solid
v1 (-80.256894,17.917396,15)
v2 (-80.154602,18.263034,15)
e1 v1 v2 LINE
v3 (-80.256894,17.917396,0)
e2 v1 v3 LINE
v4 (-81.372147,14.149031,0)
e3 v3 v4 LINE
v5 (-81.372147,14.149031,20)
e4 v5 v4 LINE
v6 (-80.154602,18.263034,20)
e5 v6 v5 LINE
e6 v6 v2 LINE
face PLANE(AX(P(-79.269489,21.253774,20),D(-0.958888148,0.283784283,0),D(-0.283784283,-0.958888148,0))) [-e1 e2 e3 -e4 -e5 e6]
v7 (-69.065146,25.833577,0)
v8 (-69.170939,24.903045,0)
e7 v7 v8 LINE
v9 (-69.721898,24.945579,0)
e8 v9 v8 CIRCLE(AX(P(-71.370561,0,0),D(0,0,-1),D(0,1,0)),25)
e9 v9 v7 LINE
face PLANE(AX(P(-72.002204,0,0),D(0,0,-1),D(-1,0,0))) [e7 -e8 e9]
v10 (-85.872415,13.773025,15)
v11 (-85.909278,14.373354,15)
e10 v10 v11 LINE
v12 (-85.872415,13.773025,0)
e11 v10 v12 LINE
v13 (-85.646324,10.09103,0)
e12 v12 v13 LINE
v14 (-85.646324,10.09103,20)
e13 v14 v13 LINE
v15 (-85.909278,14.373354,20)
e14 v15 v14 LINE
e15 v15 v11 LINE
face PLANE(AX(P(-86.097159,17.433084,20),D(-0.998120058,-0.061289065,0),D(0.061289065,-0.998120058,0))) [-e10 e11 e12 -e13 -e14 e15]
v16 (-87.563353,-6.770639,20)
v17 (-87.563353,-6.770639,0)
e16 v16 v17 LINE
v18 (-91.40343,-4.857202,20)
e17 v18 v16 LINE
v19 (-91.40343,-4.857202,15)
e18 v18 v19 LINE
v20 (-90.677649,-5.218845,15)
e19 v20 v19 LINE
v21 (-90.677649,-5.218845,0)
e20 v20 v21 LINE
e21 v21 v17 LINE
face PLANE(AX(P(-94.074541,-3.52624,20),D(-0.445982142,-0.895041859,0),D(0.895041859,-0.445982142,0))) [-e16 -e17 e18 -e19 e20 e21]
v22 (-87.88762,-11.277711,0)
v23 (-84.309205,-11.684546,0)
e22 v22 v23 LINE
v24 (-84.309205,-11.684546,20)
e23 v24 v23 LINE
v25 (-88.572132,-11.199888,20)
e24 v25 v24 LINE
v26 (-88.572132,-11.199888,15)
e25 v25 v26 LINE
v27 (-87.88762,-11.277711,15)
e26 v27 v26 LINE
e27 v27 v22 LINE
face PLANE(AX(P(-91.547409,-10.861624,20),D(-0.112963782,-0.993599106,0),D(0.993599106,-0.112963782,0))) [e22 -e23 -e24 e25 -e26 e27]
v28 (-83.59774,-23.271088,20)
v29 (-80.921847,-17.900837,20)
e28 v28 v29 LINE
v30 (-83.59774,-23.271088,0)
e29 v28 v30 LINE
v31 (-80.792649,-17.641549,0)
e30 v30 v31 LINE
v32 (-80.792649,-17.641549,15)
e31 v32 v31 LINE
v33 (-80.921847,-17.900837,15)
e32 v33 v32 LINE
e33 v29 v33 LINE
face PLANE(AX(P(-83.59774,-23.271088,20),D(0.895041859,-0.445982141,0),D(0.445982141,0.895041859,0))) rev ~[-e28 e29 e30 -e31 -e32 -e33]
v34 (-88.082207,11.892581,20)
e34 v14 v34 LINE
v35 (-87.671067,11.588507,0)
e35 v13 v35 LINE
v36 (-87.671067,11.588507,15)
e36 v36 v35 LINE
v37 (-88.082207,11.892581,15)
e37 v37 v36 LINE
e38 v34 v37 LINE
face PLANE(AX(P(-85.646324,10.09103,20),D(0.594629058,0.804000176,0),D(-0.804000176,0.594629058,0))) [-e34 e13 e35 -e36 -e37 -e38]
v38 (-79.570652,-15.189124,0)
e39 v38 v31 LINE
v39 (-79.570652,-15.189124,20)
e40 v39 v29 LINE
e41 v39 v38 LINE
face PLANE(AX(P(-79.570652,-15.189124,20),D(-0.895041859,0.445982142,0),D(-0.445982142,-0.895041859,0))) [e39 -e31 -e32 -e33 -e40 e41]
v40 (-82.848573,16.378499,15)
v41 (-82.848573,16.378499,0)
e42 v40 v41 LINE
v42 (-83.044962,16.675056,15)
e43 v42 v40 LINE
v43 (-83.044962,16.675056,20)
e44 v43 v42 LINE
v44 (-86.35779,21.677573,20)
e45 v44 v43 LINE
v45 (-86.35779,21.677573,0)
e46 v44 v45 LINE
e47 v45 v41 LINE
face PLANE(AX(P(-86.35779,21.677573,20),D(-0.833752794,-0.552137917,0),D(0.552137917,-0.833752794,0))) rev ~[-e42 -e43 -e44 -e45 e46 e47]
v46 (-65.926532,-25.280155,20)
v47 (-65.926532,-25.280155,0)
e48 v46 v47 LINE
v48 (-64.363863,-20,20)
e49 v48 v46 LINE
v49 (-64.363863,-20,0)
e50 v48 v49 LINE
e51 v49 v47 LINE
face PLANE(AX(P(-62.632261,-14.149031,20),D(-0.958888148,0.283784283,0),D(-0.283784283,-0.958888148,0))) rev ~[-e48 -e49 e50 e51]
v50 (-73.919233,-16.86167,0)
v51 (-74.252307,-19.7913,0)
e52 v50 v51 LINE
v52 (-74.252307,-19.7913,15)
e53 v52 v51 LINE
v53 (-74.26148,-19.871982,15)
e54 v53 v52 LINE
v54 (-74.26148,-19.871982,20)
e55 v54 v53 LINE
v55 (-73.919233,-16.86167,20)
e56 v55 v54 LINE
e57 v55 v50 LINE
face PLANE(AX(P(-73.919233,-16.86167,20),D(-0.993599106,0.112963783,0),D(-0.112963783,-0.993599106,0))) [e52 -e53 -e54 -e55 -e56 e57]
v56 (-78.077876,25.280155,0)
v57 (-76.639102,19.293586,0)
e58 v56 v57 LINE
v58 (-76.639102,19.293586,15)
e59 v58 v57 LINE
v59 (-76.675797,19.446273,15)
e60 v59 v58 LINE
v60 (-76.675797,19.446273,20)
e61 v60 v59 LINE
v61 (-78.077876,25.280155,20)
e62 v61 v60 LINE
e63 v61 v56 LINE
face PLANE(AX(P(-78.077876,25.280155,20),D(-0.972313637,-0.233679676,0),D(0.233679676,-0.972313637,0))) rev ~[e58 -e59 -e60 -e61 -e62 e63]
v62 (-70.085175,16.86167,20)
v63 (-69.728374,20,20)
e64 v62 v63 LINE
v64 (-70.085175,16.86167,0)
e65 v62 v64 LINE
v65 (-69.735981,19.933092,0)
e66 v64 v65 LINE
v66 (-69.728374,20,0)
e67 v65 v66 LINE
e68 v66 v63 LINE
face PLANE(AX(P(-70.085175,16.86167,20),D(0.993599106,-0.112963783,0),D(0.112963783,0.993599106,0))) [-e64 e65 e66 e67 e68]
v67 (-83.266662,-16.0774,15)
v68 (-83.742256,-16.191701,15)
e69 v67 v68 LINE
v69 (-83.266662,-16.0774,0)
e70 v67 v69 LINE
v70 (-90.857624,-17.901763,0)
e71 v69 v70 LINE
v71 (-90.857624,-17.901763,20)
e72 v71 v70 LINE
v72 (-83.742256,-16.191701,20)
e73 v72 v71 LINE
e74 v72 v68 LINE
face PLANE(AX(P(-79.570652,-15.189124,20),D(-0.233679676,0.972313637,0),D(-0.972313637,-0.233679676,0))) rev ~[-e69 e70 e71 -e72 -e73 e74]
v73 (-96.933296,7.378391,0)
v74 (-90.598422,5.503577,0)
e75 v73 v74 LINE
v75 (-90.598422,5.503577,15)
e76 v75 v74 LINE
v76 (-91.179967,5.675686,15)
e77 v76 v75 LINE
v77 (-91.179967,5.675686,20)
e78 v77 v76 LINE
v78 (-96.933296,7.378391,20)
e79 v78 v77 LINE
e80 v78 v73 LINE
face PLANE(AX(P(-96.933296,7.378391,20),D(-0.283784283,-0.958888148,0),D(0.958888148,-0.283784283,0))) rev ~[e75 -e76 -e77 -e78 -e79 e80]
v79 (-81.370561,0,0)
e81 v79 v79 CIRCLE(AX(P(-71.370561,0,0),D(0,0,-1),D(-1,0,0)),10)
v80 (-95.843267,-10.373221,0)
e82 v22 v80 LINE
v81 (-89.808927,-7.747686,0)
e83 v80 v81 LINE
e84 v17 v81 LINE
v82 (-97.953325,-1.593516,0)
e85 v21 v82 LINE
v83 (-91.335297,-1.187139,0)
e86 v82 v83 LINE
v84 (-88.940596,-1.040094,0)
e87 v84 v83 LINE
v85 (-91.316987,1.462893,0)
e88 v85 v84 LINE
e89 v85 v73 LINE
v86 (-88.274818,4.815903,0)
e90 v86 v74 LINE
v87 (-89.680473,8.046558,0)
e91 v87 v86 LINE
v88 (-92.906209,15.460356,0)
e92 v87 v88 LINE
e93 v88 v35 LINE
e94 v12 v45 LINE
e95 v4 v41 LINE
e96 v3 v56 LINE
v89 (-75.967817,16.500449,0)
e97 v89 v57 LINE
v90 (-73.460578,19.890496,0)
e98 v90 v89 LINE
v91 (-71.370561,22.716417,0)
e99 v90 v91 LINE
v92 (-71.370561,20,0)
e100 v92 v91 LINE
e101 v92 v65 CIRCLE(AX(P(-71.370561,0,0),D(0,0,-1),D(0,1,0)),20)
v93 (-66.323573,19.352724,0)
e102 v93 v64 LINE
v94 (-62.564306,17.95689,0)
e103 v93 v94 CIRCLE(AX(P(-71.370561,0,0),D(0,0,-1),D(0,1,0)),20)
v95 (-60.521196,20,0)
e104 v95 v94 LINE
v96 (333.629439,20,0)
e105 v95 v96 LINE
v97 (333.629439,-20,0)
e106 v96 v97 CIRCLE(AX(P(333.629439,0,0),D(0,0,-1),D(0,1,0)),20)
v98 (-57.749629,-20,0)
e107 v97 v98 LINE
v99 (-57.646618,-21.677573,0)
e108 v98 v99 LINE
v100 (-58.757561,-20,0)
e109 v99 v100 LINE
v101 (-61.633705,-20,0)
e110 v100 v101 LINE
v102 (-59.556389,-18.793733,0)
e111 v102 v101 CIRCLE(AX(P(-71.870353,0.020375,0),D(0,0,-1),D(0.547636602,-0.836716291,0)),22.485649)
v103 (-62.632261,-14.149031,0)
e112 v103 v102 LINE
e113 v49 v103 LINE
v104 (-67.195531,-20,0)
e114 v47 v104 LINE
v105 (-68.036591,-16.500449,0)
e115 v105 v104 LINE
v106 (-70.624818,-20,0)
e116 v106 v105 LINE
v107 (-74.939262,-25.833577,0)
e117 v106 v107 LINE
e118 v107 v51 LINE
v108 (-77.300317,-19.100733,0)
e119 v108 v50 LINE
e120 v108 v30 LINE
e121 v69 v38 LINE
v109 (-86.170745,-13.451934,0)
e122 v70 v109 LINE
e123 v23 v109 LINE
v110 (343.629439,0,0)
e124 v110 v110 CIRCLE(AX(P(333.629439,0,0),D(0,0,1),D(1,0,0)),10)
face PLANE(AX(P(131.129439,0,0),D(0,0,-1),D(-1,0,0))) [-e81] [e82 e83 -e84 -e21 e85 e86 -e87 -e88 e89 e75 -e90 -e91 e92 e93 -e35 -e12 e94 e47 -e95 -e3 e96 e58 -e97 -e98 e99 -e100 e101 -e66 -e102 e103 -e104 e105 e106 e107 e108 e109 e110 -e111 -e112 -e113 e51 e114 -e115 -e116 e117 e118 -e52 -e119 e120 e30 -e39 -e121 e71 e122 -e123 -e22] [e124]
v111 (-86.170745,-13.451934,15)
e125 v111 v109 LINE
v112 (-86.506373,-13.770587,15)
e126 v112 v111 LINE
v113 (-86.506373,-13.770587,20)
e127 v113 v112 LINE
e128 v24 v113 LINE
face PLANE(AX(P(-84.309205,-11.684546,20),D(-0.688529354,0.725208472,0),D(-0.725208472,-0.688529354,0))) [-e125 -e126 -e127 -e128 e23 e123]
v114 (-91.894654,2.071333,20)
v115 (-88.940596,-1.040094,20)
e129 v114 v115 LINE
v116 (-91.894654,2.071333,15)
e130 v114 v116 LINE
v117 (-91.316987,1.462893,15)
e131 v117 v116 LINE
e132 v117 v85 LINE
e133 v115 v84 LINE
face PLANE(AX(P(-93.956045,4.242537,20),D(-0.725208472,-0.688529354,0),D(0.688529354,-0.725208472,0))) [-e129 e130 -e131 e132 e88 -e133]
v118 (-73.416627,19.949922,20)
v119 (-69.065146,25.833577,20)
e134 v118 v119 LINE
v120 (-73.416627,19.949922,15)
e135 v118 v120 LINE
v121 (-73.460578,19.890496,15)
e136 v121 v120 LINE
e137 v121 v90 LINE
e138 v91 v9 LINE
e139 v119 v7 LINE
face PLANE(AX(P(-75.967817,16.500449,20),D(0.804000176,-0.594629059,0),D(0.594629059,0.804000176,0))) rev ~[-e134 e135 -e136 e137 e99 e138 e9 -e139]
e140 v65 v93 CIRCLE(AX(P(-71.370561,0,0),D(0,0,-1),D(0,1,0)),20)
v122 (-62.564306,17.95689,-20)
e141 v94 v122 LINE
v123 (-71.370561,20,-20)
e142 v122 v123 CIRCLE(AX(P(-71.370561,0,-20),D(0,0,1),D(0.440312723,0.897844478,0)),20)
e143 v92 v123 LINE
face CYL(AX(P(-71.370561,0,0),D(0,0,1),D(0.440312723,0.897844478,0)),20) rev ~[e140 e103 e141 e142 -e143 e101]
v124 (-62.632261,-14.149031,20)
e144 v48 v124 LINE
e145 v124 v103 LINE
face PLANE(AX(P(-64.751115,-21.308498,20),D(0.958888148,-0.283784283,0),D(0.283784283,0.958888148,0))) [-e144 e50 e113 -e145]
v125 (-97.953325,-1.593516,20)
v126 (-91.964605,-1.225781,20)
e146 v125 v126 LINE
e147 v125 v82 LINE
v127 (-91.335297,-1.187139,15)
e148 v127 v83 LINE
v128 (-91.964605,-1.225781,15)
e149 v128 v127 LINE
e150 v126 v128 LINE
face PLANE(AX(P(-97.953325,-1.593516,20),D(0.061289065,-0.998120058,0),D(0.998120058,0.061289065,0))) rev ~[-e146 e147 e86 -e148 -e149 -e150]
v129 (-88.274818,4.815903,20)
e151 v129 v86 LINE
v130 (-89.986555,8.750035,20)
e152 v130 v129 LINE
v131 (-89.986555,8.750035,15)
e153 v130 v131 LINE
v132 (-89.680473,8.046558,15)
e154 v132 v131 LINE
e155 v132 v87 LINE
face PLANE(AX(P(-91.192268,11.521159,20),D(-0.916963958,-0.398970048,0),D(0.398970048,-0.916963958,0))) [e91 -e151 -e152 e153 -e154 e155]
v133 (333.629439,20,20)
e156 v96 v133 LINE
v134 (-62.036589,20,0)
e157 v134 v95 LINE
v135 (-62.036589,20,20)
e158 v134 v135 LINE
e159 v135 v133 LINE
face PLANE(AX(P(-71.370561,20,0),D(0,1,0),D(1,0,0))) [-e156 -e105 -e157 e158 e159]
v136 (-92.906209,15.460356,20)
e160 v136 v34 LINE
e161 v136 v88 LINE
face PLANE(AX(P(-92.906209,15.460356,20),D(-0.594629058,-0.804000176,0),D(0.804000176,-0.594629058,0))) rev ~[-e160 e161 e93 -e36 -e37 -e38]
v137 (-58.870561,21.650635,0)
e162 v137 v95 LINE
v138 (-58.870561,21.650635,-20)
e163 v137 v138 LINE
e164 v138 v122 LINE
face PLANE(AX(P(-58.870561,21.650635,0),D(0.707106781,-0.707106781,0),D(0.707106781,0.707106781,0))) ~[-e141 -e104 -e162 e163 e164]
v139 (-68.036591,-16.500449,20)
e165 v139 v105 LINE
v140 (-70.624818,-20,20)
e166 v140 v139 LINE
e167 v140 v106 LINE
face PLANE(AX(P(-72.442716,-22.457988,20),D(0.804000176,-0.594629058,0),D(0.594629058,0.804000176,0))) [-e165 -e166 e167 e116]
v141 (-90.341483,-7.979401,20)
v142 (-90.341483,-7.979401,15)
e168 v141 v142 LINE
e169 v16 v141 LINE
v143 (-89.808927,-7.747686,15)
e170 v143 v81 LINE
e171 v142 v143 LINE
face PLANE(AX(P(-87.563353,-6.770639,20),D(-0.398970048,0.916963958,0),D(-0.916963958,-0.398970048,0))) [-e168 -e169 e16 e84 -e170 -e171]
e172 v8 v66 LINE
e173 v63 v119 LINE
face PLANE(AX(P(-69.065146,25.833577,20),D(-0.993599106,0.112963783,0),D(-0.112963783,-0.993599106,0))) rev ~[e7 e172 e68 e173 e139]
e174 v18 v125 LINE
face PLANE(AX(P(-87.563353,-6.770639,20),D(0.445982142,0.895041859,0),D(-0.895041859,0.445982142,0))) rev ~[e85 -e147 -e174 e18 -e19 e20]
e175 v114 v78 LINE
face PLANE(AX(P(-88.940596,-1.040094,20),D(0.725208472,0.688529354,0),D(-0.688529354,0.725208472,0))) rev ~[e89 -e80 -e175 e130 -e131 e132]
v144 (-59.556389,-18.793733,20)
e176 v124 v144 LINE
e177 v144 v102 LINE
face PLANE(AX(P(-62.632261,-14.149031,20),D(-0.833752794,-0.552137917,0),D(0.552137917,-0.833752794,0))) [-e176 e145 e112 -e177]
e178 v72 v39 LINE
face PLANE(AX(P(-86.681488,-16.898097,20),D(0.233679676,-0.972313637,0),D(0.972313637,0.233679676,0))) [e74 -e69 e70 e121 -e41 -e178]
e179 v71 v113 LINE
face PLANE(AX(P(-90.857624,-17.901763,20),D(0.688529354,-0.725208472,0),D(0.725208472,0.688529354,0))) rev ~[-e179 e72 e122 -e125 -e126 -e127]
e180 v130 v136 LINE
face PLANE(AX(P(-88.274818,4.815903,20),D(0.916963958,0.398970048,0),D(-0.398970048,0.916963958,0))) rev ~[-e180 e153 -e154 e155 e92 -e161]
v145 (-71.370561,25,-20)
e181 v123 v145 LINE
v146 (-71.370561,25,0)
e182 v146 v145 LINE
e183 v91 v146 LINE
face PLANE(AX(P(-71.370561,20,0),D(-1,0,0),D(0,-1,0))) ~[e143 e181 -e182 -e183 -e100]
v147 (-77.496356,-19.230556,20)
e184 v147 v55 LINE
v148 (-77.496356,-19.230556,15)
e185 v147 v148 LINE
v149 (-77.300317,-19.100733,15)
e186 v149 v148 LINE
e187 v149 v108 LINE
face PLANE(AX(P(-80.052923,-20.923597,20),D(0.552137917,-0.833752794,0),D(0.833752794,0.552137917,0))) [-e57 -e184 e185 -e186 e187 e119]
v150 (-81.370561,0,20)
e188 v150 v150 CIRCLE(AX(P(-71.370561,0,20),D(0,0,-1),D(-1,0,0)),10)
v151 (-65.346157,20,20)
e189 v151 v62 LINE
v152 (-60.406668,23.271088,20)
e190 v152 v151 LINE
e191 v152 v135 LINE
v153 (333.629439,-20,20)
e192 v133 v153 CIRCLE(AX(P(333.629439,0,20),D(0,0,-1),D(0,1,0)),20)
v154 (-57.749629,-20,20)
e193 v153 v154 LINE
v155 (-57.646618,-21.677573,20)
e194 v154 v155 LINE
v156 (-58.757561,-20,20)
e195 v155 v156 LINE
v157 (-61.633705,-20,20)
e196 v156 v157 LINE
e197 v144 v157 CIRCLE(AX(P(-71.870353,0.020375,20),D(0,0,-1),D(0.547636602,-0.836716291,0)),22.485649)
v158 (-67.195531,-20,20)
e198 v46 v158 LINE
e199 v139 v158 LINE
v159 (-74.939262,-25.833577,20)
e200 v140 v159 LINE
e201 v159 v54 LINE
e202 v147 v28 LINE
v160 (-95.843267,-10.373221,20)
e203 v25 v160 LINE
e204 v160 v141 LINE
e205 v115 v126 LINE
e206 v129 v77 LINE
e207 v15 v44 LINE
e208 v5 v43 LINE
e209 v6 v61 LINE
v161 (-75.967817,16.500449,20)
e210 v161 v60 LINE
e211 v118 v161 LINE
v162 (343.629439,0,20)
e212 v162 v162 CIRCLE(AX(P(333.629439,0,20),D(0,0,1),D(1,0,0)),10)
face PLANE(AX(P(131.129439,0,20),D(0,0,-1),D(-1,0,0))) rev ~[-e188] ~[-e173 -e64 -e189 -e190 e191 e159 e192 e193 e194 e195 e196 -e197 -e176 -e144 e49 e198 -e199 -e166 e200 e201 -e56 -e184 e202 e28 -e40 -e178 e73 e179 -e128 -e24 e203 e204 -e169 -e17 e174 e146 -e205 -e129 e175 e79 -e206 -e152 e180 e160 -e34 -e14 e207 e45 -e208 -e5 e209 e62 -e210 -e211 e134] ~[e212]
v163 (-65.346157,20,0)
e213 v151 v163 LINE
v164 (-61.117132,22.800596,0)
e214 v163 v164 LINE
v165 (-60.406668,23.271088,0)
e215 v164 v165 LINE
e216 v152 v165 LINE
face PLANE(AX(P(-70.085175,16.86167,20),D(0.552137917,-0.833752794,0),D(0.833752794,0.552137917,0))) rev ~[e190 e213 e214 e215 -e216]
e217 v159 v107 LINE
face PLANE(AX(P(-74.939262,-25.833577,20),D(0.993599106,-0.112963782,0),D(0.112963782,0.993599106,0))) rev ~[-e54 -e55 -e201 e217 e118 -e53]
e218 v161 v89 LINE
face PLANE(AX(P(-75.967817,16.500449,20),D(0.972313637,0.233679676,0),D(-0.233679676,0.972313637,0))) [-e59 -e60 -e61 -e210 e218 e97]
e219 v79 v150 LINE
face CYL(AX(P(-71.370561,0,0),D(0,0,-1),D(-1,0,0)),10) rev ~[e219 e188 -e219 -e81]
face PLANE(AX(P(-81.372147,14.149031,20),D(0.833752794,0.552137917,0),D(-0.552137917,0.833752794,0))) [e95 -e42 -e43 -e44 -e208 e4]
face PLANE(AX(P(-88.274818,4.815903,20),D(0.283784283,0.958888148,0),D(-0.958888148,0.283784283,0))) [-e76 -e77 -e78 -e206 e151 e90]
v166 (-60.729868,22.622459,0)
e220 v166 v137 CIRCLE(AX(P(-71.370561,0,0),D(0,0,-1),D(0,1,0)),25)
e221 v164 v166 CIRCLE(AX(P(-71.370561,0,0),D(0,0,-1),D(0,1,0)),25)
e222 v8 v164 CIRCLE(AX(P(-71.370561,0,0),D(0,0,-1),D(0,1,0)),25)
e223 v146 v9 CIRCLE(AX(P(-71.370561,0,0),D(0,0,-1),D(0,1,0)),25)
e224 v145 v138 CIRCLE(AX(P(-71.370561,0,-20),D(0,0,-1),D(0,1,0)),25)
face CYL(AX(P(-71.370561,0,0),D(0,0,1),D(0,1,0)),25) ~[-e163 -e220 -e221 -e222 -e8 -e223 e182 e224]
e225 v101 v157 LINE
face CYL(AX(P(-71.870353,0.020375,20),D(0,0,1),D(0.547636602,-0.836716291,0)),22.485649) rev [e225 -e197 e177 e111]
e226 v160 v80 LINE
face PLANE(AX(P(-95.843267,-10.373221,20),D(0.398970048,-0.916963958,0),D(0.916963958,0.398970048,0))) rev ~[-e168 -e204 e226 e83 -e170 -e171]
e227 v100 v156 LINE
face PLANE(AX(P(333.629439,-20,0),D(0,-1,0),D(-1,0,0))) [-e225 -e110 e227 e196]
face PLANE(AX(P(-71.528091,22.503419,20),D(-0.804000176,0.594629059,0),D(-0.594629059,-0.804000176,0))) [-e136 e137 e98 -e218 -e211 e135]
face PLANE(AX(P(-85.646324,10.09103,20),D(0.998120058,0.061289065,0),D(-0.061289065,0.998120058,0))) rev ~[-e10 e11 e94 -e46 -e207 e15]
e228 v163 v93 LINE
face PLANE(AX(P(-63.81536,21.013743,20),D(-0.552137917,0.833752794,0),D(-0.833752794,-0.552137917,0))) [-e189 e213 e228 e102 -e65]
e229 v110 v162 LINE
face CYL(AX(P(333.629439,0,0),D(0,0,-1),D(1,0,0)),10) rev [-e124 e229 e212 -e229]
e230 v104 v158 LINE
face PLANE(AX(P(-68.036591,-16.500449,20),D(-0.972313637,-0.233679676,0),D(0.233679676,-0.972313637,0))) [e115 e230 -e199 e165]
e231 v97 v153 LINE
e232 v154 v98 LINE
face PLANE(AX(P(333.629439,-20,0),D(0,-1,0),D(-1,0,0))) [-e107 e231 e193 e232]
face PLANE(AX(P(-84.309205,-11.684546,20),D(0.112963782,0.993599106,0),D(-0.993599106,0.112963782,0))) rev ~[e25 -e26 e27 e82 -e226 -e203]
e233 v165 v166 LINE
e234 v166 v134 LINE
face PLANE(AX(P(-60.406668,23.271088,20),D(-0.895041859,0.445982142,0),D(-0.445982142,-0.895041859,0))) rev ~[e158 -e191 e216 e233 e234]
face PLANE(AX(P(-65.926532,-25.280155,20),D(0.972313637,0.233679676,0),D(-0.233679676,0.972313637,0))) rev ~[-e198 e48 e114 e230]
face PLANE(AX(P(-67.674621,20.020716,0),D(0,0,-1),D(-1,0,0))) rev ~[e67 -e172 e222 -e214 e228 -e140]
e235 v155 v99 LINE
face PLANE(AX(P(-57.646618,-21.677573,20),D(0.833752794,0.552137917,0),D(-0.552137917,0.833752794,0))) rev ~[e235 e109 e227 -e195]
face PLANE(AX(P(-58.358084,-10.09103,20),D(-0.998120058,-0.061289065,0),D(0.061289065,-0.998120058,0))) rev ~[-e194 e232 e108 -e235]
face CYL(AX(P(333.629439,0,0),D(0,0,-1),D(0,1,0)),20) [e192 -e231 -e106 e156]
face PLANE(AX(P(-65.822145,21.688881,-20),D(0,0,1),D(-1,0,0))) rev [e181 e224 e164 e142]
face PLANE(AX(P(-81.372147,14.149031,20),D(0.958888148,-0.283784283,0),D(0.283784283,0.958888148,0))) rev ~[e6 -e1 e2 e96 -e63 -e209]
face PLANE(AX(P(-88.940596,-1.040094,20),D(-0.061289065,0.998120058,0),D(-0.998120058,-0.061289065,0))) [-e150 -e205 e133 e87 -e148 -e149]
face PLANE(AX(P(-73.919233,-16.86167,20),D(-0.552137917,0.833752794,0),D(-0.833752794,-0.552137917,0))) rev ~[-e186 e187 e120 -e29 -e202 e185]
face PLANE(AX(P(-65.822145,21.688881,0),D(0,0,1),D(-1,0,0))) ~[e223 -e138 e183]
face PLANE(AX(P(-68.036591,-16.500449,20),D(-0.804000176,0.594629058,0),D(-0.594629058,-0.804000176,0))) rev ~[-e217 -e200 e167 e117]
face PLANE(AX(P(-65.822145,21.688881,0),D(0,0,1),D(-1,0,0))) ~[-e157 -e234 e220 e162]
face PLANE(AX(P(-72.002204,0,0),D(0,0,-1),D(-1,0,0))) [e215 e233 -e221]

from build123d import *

# Parameters (mm, degrees)
SKETCH1_R           = 10
BOSS_EXTRUDE1_DEPTH = 20
BOSS_EXTRUDE2_START = 20
BOSS_EXTRUDE2_DEPTH = 20
SKETCH5_R           = 20
BOSS_EXTRUDE3_DEPTH = 5
CUT_EXTRUDE2_DEPTH  = 20
BOSS_EXTRUDE4_DEPTH = 20
CUT_EXTRUDE9_DEPTH  = 20
SKETCH13_R          = 10
CUT_EXTRUDE10_DEPTH = 20


with BuildPart() as part:
    # Sketch1 → Boss-Extrude1 (new body)
    with BuildSketch(Plane.XY):
        with BuildLine():
            Line((-71.370560529, 20), (333.629439471, 20))
            ThreePointArc((333.629439471, 20), (353.629439471, 0), (333.629439471, -20))
            Line((333.629439471, -20), (-71.370560529, -20))
            ThreePointArc((-71.370560529, -20), (-91.370560529, 0), (-71.370560529, 20))
        make_face()
        with Locations((-71.370560529, 0)):
            Circle(SKETCH1_R, mode=Mode.SUBTRACT)
        with Locations((333.629439471, 0)):
            Circle(SKETCH1_R, mode=Mode.SUBTRACT)
    extrude(amount=BOSS_EXTRUDE1_DEPTH)

    # Sketch2 → Boss-Extrude2 (add)
    with BuildSketch(Plane(origin=(0, 0, 0), x_dir=(-1, 0, 0), z_dir=(0, 0, -1)).offset(BOSS_EXTRUDE2_START)):
        with BuildLine():
            Line((71.370560529, -20), (71.370560529, -25))
            ThreePointArc((71.370560529, -25), (64.900084402, -24.148145657), (58.870560529, -21.650635095))
            Line((58.870560529, -21.650635095), (62.564306071, -17.956889553))
            ThreePointArc((62.564306071, -17.956889553), (66.850482602, -19.482527955), (71.370560529, -20))
        make_face()
    boss_extrude2 = extrude(amount=-BOSS_EXTRUDE2_DEPTH)

    # Sketch5 → Boss-Extrude3 (add)
    with BuildSketch(Plane.XY.offset(15)):
        with Locations((-72.002203934, 0)):
            Circle(SKETCH5_R)
    extrude(amount=BOSS_EXTRUDE3_DEPTH)

    # Mirror1: Boss-Extrude2 across plane
    add(boss_extrude2.mirror(Plane.ZX))

    # Sketch7 → Cut-Extrude2 (cut)
    with BuildSketch(Plane(origin=(0, 0, -20), x_dir=(-1, 0, 0), z_dir=(0, 0, -1))):
        with BuildLine():
            Line((62.564306071, -17.956889553), (58.870560529, -21.650635095))
            ThreePointArc((58.870560529, -21.650635095), (64.900084402, -24.148145657), (71.370560529, -25))
            Line((71.370560529, -25), (71.370560529, -20))
            ThreePointArc((71.370560529, -20), (66.850482602, -19.482527955), (62.564306071, -17.956889553))
        make_face()
    extrude(amount=-CUT_EXTRUDE2_DEPTH, mode=Mode.SUBTRACT)

    # Sketch8 → Boss-Extrude4 (add)
    with BuildSketch(Plane.XY.offset(20)):
        Polygon((-85.646323907, 10.091030395), (-86.357789766, 21.677572637), (-81.372147128, 14.149030667), (-78.077875507, 25.280154567), (-75.967816914, 16.500449024), (-69.065145589, 25.833576761), (-70.085175248, 16.861669707), (-60.406668254, 23.271088335), (-64.433755534, 15.189124172), (-53.146783654, 17.901763211), (-59.695202395, 11.684546094), (-48.161141016, 10.373221242), (-56.441055274, 6.770639312), (-46.051082422, 1.593515699), (-55.06381234, 1.040093504), (-47.07111208, -7.378391356), (-55.729589416, -4.81590293), (-51.09819936, -15.460355519), (-58.35808396, -10.091030395), (-57.646618102, -21.677572637), (-62.63226074, -14.149030667), (-65.92653236, -25.280154567), (-68.036590954, -16.500449024), (-74.939262278, -25.833576761), (-73.91923262, -16.861669707), (-83.597739613, -23.271088335), (-79.570652334, -15.189124172), (-90.857624214, -17.901763211), (-84.309205472, -11.684546094), (-95.843266852, -10.373221242), (-87.563352593, -6.770639312), (-97.953325446, -1.593515699), (-88.940595528, -1.040093504), (-96.933295787, 7.378391356), (-88.274818452, 4.81590293), (-92.906208508, 15.460355519), align=None)
    extrude(amount=-BOSS_EXTRUDE4_DEPTH)

    # Sketch10 → Cut-Extrude9 (cut)
    with BuildSketch(Plane.XY.offset(20)):
        with BuildLine():
            Line((-86.6814877, -16.89809712), (-79.570652334, -15.189124172))
            Line((-79.570652334, -15.189124172), (-81.99592579, -20.056407098))
            ThreePointArc((-81.99592579, -20.056407098), (-84.438311294, -18.625022051), (-86.6814877, -16.89809712))
        make_face()
        with BuildLine():
            Line((-84.309205472, -11.684546094), (-88.22937615, -15.406444953))
            ThreePointArc((-88.22937615, -15.406444953), (-90.031123734, -13.238238107), (-91.547408648, -10.861623847))
            Line((-91.547408648, -10.861623847), (-84.309205472, -11.684546094))
        make_face()
        with BuildLine():
            Line((-87.563352593, -6.770639312), (-92.502393068, -8.919610595))
            ThreePointArc((-92.502393068, -8.919610595), (-93.457564825, -6.272216499), (-94.074540655, -3.526239548))
            Line((-94.074540655, -3.526239548), (-87.563352593, -6.770639312))
        make_face()
        with BuildLine():
            Line((-88.940595528, -1.040093504), (-94.312976138, -1.369981861))
            ThreePointArc((-94.312976138, -1.369981861), (-94.310669326, 1.447480522), (-93.956044653, 4.24253704))
            Line((-93.956044653, 4.24253704), (-88.940595528, -1.040093504))
        make_face()
        with BuildLine():
            Line((-88.274818452, 4.81590293), (-93.447669354, 6.346815359))
            ThreePointArc((-93.447669354, 6.346815359), (-92.482976347, 9.005039035), (-91.192268127, 11.521158668))
            Line((-91.192268127, 11.521158668), (-88.274818452, 4.81590293))
        make_face()
        with BuildLine():
            Line((-85.646323907, 10.091030395), (-90.005019716, 13.314670467))
            ThreePointArc((-90.005019716, 13.314670467), (-88.18159333, 15.49770898), (-86.097159024, 17.433083507))
            Line((-86.097159024, 17.433083507), (-85.646323907, 10.091030395))
        make_face()
        with BuildLine():
            Line((-81.372147128, 14.149030667), (-84.386387194, 18.700667134))
            ThreePointArc((-84.386387194, 18.700667134), (-81.909430889, 20.140547455), (-79.269488567, 21.253773582))
            Line((-79.269488567, 21.253773582), (-81.372147128, 14.149030667))
        make_face()
        with BuildLine():
            Line((-75.967816914, 16.500449024), (-77.253980818, 21.852025701))
            ThreePointArc((-77.253980818, 21.852025701), (-74.411990383, 22.361916972), (-71.52809096, 22.503419105))
            Line((-71.52809096, 22.503419105), (-75.967816914, 16.500449024))
        make_face()
        with BuildLine():
            Line((-70.085175248, 16.861669707), (-69.458212145, 22.376268852))
            ThreePointArc((-69.458212145, 22.376268852), (-66.592631783, 21.877869576), (-63.815360138, 21.013742934))
            Line((-63.815360138, 21.013742934), (-70.085175248, 16.861669707))
        make_face()
        with BuildLine():
            Line((-62.63226074, -14.149030667), (-59.556389162, -18.793733456))
            ThreePointArc((-59.556389162, -18.793733456), (-62.072733786, -20.218474816), (-64.751115176, -21.308498365))
            Line((-64.751115176, -21.308498365), (-62.63226074, -14.149030667))
        make_face()
        with BuildLine():
            Line((-68.036590954, -16.500449024), (-66.745286272, -21.873415875))
            ThreePointArc((-66.745286272, -21.873415875), (-69.575313157, -22.347843134), (-72.442716434, -22.457987779))
            Line((-72.442716434, -22.457987779), (-68.036590954, -16.500449024))
        make_face()
        with BuildLine():
            Line((-73.91923262, -16.861669707), (-74.538256817, -22.306440369))
            ThreePointArc((-74.538256817, -22.306440369), (-77.339471693, -21.79001562), (-80.052922922, -20.923596707))
            Line((-80.052922922, -20.923596707), (-73.91923262, -16.861669707))
        make_face()
    extrude(amount=-CUT_EXTRUDE9_DEPTH, mode=Mode.SUBTRACT)

    # Sketch13 → Cut-Extrude10 (cut)
    with BuildSketch(Plane(origin=(0, 0, 0), x_dir=(-1, 0, 0), z_dir=(0, 0, -1))):
        with Locations((71.370560529, 0)):
            Circle(SKETCH13_R)
    extrude(amount=-CUT_EXTRUDE10_DEPTH, mode=Mode.SUBTRACT)


solid = part.part
